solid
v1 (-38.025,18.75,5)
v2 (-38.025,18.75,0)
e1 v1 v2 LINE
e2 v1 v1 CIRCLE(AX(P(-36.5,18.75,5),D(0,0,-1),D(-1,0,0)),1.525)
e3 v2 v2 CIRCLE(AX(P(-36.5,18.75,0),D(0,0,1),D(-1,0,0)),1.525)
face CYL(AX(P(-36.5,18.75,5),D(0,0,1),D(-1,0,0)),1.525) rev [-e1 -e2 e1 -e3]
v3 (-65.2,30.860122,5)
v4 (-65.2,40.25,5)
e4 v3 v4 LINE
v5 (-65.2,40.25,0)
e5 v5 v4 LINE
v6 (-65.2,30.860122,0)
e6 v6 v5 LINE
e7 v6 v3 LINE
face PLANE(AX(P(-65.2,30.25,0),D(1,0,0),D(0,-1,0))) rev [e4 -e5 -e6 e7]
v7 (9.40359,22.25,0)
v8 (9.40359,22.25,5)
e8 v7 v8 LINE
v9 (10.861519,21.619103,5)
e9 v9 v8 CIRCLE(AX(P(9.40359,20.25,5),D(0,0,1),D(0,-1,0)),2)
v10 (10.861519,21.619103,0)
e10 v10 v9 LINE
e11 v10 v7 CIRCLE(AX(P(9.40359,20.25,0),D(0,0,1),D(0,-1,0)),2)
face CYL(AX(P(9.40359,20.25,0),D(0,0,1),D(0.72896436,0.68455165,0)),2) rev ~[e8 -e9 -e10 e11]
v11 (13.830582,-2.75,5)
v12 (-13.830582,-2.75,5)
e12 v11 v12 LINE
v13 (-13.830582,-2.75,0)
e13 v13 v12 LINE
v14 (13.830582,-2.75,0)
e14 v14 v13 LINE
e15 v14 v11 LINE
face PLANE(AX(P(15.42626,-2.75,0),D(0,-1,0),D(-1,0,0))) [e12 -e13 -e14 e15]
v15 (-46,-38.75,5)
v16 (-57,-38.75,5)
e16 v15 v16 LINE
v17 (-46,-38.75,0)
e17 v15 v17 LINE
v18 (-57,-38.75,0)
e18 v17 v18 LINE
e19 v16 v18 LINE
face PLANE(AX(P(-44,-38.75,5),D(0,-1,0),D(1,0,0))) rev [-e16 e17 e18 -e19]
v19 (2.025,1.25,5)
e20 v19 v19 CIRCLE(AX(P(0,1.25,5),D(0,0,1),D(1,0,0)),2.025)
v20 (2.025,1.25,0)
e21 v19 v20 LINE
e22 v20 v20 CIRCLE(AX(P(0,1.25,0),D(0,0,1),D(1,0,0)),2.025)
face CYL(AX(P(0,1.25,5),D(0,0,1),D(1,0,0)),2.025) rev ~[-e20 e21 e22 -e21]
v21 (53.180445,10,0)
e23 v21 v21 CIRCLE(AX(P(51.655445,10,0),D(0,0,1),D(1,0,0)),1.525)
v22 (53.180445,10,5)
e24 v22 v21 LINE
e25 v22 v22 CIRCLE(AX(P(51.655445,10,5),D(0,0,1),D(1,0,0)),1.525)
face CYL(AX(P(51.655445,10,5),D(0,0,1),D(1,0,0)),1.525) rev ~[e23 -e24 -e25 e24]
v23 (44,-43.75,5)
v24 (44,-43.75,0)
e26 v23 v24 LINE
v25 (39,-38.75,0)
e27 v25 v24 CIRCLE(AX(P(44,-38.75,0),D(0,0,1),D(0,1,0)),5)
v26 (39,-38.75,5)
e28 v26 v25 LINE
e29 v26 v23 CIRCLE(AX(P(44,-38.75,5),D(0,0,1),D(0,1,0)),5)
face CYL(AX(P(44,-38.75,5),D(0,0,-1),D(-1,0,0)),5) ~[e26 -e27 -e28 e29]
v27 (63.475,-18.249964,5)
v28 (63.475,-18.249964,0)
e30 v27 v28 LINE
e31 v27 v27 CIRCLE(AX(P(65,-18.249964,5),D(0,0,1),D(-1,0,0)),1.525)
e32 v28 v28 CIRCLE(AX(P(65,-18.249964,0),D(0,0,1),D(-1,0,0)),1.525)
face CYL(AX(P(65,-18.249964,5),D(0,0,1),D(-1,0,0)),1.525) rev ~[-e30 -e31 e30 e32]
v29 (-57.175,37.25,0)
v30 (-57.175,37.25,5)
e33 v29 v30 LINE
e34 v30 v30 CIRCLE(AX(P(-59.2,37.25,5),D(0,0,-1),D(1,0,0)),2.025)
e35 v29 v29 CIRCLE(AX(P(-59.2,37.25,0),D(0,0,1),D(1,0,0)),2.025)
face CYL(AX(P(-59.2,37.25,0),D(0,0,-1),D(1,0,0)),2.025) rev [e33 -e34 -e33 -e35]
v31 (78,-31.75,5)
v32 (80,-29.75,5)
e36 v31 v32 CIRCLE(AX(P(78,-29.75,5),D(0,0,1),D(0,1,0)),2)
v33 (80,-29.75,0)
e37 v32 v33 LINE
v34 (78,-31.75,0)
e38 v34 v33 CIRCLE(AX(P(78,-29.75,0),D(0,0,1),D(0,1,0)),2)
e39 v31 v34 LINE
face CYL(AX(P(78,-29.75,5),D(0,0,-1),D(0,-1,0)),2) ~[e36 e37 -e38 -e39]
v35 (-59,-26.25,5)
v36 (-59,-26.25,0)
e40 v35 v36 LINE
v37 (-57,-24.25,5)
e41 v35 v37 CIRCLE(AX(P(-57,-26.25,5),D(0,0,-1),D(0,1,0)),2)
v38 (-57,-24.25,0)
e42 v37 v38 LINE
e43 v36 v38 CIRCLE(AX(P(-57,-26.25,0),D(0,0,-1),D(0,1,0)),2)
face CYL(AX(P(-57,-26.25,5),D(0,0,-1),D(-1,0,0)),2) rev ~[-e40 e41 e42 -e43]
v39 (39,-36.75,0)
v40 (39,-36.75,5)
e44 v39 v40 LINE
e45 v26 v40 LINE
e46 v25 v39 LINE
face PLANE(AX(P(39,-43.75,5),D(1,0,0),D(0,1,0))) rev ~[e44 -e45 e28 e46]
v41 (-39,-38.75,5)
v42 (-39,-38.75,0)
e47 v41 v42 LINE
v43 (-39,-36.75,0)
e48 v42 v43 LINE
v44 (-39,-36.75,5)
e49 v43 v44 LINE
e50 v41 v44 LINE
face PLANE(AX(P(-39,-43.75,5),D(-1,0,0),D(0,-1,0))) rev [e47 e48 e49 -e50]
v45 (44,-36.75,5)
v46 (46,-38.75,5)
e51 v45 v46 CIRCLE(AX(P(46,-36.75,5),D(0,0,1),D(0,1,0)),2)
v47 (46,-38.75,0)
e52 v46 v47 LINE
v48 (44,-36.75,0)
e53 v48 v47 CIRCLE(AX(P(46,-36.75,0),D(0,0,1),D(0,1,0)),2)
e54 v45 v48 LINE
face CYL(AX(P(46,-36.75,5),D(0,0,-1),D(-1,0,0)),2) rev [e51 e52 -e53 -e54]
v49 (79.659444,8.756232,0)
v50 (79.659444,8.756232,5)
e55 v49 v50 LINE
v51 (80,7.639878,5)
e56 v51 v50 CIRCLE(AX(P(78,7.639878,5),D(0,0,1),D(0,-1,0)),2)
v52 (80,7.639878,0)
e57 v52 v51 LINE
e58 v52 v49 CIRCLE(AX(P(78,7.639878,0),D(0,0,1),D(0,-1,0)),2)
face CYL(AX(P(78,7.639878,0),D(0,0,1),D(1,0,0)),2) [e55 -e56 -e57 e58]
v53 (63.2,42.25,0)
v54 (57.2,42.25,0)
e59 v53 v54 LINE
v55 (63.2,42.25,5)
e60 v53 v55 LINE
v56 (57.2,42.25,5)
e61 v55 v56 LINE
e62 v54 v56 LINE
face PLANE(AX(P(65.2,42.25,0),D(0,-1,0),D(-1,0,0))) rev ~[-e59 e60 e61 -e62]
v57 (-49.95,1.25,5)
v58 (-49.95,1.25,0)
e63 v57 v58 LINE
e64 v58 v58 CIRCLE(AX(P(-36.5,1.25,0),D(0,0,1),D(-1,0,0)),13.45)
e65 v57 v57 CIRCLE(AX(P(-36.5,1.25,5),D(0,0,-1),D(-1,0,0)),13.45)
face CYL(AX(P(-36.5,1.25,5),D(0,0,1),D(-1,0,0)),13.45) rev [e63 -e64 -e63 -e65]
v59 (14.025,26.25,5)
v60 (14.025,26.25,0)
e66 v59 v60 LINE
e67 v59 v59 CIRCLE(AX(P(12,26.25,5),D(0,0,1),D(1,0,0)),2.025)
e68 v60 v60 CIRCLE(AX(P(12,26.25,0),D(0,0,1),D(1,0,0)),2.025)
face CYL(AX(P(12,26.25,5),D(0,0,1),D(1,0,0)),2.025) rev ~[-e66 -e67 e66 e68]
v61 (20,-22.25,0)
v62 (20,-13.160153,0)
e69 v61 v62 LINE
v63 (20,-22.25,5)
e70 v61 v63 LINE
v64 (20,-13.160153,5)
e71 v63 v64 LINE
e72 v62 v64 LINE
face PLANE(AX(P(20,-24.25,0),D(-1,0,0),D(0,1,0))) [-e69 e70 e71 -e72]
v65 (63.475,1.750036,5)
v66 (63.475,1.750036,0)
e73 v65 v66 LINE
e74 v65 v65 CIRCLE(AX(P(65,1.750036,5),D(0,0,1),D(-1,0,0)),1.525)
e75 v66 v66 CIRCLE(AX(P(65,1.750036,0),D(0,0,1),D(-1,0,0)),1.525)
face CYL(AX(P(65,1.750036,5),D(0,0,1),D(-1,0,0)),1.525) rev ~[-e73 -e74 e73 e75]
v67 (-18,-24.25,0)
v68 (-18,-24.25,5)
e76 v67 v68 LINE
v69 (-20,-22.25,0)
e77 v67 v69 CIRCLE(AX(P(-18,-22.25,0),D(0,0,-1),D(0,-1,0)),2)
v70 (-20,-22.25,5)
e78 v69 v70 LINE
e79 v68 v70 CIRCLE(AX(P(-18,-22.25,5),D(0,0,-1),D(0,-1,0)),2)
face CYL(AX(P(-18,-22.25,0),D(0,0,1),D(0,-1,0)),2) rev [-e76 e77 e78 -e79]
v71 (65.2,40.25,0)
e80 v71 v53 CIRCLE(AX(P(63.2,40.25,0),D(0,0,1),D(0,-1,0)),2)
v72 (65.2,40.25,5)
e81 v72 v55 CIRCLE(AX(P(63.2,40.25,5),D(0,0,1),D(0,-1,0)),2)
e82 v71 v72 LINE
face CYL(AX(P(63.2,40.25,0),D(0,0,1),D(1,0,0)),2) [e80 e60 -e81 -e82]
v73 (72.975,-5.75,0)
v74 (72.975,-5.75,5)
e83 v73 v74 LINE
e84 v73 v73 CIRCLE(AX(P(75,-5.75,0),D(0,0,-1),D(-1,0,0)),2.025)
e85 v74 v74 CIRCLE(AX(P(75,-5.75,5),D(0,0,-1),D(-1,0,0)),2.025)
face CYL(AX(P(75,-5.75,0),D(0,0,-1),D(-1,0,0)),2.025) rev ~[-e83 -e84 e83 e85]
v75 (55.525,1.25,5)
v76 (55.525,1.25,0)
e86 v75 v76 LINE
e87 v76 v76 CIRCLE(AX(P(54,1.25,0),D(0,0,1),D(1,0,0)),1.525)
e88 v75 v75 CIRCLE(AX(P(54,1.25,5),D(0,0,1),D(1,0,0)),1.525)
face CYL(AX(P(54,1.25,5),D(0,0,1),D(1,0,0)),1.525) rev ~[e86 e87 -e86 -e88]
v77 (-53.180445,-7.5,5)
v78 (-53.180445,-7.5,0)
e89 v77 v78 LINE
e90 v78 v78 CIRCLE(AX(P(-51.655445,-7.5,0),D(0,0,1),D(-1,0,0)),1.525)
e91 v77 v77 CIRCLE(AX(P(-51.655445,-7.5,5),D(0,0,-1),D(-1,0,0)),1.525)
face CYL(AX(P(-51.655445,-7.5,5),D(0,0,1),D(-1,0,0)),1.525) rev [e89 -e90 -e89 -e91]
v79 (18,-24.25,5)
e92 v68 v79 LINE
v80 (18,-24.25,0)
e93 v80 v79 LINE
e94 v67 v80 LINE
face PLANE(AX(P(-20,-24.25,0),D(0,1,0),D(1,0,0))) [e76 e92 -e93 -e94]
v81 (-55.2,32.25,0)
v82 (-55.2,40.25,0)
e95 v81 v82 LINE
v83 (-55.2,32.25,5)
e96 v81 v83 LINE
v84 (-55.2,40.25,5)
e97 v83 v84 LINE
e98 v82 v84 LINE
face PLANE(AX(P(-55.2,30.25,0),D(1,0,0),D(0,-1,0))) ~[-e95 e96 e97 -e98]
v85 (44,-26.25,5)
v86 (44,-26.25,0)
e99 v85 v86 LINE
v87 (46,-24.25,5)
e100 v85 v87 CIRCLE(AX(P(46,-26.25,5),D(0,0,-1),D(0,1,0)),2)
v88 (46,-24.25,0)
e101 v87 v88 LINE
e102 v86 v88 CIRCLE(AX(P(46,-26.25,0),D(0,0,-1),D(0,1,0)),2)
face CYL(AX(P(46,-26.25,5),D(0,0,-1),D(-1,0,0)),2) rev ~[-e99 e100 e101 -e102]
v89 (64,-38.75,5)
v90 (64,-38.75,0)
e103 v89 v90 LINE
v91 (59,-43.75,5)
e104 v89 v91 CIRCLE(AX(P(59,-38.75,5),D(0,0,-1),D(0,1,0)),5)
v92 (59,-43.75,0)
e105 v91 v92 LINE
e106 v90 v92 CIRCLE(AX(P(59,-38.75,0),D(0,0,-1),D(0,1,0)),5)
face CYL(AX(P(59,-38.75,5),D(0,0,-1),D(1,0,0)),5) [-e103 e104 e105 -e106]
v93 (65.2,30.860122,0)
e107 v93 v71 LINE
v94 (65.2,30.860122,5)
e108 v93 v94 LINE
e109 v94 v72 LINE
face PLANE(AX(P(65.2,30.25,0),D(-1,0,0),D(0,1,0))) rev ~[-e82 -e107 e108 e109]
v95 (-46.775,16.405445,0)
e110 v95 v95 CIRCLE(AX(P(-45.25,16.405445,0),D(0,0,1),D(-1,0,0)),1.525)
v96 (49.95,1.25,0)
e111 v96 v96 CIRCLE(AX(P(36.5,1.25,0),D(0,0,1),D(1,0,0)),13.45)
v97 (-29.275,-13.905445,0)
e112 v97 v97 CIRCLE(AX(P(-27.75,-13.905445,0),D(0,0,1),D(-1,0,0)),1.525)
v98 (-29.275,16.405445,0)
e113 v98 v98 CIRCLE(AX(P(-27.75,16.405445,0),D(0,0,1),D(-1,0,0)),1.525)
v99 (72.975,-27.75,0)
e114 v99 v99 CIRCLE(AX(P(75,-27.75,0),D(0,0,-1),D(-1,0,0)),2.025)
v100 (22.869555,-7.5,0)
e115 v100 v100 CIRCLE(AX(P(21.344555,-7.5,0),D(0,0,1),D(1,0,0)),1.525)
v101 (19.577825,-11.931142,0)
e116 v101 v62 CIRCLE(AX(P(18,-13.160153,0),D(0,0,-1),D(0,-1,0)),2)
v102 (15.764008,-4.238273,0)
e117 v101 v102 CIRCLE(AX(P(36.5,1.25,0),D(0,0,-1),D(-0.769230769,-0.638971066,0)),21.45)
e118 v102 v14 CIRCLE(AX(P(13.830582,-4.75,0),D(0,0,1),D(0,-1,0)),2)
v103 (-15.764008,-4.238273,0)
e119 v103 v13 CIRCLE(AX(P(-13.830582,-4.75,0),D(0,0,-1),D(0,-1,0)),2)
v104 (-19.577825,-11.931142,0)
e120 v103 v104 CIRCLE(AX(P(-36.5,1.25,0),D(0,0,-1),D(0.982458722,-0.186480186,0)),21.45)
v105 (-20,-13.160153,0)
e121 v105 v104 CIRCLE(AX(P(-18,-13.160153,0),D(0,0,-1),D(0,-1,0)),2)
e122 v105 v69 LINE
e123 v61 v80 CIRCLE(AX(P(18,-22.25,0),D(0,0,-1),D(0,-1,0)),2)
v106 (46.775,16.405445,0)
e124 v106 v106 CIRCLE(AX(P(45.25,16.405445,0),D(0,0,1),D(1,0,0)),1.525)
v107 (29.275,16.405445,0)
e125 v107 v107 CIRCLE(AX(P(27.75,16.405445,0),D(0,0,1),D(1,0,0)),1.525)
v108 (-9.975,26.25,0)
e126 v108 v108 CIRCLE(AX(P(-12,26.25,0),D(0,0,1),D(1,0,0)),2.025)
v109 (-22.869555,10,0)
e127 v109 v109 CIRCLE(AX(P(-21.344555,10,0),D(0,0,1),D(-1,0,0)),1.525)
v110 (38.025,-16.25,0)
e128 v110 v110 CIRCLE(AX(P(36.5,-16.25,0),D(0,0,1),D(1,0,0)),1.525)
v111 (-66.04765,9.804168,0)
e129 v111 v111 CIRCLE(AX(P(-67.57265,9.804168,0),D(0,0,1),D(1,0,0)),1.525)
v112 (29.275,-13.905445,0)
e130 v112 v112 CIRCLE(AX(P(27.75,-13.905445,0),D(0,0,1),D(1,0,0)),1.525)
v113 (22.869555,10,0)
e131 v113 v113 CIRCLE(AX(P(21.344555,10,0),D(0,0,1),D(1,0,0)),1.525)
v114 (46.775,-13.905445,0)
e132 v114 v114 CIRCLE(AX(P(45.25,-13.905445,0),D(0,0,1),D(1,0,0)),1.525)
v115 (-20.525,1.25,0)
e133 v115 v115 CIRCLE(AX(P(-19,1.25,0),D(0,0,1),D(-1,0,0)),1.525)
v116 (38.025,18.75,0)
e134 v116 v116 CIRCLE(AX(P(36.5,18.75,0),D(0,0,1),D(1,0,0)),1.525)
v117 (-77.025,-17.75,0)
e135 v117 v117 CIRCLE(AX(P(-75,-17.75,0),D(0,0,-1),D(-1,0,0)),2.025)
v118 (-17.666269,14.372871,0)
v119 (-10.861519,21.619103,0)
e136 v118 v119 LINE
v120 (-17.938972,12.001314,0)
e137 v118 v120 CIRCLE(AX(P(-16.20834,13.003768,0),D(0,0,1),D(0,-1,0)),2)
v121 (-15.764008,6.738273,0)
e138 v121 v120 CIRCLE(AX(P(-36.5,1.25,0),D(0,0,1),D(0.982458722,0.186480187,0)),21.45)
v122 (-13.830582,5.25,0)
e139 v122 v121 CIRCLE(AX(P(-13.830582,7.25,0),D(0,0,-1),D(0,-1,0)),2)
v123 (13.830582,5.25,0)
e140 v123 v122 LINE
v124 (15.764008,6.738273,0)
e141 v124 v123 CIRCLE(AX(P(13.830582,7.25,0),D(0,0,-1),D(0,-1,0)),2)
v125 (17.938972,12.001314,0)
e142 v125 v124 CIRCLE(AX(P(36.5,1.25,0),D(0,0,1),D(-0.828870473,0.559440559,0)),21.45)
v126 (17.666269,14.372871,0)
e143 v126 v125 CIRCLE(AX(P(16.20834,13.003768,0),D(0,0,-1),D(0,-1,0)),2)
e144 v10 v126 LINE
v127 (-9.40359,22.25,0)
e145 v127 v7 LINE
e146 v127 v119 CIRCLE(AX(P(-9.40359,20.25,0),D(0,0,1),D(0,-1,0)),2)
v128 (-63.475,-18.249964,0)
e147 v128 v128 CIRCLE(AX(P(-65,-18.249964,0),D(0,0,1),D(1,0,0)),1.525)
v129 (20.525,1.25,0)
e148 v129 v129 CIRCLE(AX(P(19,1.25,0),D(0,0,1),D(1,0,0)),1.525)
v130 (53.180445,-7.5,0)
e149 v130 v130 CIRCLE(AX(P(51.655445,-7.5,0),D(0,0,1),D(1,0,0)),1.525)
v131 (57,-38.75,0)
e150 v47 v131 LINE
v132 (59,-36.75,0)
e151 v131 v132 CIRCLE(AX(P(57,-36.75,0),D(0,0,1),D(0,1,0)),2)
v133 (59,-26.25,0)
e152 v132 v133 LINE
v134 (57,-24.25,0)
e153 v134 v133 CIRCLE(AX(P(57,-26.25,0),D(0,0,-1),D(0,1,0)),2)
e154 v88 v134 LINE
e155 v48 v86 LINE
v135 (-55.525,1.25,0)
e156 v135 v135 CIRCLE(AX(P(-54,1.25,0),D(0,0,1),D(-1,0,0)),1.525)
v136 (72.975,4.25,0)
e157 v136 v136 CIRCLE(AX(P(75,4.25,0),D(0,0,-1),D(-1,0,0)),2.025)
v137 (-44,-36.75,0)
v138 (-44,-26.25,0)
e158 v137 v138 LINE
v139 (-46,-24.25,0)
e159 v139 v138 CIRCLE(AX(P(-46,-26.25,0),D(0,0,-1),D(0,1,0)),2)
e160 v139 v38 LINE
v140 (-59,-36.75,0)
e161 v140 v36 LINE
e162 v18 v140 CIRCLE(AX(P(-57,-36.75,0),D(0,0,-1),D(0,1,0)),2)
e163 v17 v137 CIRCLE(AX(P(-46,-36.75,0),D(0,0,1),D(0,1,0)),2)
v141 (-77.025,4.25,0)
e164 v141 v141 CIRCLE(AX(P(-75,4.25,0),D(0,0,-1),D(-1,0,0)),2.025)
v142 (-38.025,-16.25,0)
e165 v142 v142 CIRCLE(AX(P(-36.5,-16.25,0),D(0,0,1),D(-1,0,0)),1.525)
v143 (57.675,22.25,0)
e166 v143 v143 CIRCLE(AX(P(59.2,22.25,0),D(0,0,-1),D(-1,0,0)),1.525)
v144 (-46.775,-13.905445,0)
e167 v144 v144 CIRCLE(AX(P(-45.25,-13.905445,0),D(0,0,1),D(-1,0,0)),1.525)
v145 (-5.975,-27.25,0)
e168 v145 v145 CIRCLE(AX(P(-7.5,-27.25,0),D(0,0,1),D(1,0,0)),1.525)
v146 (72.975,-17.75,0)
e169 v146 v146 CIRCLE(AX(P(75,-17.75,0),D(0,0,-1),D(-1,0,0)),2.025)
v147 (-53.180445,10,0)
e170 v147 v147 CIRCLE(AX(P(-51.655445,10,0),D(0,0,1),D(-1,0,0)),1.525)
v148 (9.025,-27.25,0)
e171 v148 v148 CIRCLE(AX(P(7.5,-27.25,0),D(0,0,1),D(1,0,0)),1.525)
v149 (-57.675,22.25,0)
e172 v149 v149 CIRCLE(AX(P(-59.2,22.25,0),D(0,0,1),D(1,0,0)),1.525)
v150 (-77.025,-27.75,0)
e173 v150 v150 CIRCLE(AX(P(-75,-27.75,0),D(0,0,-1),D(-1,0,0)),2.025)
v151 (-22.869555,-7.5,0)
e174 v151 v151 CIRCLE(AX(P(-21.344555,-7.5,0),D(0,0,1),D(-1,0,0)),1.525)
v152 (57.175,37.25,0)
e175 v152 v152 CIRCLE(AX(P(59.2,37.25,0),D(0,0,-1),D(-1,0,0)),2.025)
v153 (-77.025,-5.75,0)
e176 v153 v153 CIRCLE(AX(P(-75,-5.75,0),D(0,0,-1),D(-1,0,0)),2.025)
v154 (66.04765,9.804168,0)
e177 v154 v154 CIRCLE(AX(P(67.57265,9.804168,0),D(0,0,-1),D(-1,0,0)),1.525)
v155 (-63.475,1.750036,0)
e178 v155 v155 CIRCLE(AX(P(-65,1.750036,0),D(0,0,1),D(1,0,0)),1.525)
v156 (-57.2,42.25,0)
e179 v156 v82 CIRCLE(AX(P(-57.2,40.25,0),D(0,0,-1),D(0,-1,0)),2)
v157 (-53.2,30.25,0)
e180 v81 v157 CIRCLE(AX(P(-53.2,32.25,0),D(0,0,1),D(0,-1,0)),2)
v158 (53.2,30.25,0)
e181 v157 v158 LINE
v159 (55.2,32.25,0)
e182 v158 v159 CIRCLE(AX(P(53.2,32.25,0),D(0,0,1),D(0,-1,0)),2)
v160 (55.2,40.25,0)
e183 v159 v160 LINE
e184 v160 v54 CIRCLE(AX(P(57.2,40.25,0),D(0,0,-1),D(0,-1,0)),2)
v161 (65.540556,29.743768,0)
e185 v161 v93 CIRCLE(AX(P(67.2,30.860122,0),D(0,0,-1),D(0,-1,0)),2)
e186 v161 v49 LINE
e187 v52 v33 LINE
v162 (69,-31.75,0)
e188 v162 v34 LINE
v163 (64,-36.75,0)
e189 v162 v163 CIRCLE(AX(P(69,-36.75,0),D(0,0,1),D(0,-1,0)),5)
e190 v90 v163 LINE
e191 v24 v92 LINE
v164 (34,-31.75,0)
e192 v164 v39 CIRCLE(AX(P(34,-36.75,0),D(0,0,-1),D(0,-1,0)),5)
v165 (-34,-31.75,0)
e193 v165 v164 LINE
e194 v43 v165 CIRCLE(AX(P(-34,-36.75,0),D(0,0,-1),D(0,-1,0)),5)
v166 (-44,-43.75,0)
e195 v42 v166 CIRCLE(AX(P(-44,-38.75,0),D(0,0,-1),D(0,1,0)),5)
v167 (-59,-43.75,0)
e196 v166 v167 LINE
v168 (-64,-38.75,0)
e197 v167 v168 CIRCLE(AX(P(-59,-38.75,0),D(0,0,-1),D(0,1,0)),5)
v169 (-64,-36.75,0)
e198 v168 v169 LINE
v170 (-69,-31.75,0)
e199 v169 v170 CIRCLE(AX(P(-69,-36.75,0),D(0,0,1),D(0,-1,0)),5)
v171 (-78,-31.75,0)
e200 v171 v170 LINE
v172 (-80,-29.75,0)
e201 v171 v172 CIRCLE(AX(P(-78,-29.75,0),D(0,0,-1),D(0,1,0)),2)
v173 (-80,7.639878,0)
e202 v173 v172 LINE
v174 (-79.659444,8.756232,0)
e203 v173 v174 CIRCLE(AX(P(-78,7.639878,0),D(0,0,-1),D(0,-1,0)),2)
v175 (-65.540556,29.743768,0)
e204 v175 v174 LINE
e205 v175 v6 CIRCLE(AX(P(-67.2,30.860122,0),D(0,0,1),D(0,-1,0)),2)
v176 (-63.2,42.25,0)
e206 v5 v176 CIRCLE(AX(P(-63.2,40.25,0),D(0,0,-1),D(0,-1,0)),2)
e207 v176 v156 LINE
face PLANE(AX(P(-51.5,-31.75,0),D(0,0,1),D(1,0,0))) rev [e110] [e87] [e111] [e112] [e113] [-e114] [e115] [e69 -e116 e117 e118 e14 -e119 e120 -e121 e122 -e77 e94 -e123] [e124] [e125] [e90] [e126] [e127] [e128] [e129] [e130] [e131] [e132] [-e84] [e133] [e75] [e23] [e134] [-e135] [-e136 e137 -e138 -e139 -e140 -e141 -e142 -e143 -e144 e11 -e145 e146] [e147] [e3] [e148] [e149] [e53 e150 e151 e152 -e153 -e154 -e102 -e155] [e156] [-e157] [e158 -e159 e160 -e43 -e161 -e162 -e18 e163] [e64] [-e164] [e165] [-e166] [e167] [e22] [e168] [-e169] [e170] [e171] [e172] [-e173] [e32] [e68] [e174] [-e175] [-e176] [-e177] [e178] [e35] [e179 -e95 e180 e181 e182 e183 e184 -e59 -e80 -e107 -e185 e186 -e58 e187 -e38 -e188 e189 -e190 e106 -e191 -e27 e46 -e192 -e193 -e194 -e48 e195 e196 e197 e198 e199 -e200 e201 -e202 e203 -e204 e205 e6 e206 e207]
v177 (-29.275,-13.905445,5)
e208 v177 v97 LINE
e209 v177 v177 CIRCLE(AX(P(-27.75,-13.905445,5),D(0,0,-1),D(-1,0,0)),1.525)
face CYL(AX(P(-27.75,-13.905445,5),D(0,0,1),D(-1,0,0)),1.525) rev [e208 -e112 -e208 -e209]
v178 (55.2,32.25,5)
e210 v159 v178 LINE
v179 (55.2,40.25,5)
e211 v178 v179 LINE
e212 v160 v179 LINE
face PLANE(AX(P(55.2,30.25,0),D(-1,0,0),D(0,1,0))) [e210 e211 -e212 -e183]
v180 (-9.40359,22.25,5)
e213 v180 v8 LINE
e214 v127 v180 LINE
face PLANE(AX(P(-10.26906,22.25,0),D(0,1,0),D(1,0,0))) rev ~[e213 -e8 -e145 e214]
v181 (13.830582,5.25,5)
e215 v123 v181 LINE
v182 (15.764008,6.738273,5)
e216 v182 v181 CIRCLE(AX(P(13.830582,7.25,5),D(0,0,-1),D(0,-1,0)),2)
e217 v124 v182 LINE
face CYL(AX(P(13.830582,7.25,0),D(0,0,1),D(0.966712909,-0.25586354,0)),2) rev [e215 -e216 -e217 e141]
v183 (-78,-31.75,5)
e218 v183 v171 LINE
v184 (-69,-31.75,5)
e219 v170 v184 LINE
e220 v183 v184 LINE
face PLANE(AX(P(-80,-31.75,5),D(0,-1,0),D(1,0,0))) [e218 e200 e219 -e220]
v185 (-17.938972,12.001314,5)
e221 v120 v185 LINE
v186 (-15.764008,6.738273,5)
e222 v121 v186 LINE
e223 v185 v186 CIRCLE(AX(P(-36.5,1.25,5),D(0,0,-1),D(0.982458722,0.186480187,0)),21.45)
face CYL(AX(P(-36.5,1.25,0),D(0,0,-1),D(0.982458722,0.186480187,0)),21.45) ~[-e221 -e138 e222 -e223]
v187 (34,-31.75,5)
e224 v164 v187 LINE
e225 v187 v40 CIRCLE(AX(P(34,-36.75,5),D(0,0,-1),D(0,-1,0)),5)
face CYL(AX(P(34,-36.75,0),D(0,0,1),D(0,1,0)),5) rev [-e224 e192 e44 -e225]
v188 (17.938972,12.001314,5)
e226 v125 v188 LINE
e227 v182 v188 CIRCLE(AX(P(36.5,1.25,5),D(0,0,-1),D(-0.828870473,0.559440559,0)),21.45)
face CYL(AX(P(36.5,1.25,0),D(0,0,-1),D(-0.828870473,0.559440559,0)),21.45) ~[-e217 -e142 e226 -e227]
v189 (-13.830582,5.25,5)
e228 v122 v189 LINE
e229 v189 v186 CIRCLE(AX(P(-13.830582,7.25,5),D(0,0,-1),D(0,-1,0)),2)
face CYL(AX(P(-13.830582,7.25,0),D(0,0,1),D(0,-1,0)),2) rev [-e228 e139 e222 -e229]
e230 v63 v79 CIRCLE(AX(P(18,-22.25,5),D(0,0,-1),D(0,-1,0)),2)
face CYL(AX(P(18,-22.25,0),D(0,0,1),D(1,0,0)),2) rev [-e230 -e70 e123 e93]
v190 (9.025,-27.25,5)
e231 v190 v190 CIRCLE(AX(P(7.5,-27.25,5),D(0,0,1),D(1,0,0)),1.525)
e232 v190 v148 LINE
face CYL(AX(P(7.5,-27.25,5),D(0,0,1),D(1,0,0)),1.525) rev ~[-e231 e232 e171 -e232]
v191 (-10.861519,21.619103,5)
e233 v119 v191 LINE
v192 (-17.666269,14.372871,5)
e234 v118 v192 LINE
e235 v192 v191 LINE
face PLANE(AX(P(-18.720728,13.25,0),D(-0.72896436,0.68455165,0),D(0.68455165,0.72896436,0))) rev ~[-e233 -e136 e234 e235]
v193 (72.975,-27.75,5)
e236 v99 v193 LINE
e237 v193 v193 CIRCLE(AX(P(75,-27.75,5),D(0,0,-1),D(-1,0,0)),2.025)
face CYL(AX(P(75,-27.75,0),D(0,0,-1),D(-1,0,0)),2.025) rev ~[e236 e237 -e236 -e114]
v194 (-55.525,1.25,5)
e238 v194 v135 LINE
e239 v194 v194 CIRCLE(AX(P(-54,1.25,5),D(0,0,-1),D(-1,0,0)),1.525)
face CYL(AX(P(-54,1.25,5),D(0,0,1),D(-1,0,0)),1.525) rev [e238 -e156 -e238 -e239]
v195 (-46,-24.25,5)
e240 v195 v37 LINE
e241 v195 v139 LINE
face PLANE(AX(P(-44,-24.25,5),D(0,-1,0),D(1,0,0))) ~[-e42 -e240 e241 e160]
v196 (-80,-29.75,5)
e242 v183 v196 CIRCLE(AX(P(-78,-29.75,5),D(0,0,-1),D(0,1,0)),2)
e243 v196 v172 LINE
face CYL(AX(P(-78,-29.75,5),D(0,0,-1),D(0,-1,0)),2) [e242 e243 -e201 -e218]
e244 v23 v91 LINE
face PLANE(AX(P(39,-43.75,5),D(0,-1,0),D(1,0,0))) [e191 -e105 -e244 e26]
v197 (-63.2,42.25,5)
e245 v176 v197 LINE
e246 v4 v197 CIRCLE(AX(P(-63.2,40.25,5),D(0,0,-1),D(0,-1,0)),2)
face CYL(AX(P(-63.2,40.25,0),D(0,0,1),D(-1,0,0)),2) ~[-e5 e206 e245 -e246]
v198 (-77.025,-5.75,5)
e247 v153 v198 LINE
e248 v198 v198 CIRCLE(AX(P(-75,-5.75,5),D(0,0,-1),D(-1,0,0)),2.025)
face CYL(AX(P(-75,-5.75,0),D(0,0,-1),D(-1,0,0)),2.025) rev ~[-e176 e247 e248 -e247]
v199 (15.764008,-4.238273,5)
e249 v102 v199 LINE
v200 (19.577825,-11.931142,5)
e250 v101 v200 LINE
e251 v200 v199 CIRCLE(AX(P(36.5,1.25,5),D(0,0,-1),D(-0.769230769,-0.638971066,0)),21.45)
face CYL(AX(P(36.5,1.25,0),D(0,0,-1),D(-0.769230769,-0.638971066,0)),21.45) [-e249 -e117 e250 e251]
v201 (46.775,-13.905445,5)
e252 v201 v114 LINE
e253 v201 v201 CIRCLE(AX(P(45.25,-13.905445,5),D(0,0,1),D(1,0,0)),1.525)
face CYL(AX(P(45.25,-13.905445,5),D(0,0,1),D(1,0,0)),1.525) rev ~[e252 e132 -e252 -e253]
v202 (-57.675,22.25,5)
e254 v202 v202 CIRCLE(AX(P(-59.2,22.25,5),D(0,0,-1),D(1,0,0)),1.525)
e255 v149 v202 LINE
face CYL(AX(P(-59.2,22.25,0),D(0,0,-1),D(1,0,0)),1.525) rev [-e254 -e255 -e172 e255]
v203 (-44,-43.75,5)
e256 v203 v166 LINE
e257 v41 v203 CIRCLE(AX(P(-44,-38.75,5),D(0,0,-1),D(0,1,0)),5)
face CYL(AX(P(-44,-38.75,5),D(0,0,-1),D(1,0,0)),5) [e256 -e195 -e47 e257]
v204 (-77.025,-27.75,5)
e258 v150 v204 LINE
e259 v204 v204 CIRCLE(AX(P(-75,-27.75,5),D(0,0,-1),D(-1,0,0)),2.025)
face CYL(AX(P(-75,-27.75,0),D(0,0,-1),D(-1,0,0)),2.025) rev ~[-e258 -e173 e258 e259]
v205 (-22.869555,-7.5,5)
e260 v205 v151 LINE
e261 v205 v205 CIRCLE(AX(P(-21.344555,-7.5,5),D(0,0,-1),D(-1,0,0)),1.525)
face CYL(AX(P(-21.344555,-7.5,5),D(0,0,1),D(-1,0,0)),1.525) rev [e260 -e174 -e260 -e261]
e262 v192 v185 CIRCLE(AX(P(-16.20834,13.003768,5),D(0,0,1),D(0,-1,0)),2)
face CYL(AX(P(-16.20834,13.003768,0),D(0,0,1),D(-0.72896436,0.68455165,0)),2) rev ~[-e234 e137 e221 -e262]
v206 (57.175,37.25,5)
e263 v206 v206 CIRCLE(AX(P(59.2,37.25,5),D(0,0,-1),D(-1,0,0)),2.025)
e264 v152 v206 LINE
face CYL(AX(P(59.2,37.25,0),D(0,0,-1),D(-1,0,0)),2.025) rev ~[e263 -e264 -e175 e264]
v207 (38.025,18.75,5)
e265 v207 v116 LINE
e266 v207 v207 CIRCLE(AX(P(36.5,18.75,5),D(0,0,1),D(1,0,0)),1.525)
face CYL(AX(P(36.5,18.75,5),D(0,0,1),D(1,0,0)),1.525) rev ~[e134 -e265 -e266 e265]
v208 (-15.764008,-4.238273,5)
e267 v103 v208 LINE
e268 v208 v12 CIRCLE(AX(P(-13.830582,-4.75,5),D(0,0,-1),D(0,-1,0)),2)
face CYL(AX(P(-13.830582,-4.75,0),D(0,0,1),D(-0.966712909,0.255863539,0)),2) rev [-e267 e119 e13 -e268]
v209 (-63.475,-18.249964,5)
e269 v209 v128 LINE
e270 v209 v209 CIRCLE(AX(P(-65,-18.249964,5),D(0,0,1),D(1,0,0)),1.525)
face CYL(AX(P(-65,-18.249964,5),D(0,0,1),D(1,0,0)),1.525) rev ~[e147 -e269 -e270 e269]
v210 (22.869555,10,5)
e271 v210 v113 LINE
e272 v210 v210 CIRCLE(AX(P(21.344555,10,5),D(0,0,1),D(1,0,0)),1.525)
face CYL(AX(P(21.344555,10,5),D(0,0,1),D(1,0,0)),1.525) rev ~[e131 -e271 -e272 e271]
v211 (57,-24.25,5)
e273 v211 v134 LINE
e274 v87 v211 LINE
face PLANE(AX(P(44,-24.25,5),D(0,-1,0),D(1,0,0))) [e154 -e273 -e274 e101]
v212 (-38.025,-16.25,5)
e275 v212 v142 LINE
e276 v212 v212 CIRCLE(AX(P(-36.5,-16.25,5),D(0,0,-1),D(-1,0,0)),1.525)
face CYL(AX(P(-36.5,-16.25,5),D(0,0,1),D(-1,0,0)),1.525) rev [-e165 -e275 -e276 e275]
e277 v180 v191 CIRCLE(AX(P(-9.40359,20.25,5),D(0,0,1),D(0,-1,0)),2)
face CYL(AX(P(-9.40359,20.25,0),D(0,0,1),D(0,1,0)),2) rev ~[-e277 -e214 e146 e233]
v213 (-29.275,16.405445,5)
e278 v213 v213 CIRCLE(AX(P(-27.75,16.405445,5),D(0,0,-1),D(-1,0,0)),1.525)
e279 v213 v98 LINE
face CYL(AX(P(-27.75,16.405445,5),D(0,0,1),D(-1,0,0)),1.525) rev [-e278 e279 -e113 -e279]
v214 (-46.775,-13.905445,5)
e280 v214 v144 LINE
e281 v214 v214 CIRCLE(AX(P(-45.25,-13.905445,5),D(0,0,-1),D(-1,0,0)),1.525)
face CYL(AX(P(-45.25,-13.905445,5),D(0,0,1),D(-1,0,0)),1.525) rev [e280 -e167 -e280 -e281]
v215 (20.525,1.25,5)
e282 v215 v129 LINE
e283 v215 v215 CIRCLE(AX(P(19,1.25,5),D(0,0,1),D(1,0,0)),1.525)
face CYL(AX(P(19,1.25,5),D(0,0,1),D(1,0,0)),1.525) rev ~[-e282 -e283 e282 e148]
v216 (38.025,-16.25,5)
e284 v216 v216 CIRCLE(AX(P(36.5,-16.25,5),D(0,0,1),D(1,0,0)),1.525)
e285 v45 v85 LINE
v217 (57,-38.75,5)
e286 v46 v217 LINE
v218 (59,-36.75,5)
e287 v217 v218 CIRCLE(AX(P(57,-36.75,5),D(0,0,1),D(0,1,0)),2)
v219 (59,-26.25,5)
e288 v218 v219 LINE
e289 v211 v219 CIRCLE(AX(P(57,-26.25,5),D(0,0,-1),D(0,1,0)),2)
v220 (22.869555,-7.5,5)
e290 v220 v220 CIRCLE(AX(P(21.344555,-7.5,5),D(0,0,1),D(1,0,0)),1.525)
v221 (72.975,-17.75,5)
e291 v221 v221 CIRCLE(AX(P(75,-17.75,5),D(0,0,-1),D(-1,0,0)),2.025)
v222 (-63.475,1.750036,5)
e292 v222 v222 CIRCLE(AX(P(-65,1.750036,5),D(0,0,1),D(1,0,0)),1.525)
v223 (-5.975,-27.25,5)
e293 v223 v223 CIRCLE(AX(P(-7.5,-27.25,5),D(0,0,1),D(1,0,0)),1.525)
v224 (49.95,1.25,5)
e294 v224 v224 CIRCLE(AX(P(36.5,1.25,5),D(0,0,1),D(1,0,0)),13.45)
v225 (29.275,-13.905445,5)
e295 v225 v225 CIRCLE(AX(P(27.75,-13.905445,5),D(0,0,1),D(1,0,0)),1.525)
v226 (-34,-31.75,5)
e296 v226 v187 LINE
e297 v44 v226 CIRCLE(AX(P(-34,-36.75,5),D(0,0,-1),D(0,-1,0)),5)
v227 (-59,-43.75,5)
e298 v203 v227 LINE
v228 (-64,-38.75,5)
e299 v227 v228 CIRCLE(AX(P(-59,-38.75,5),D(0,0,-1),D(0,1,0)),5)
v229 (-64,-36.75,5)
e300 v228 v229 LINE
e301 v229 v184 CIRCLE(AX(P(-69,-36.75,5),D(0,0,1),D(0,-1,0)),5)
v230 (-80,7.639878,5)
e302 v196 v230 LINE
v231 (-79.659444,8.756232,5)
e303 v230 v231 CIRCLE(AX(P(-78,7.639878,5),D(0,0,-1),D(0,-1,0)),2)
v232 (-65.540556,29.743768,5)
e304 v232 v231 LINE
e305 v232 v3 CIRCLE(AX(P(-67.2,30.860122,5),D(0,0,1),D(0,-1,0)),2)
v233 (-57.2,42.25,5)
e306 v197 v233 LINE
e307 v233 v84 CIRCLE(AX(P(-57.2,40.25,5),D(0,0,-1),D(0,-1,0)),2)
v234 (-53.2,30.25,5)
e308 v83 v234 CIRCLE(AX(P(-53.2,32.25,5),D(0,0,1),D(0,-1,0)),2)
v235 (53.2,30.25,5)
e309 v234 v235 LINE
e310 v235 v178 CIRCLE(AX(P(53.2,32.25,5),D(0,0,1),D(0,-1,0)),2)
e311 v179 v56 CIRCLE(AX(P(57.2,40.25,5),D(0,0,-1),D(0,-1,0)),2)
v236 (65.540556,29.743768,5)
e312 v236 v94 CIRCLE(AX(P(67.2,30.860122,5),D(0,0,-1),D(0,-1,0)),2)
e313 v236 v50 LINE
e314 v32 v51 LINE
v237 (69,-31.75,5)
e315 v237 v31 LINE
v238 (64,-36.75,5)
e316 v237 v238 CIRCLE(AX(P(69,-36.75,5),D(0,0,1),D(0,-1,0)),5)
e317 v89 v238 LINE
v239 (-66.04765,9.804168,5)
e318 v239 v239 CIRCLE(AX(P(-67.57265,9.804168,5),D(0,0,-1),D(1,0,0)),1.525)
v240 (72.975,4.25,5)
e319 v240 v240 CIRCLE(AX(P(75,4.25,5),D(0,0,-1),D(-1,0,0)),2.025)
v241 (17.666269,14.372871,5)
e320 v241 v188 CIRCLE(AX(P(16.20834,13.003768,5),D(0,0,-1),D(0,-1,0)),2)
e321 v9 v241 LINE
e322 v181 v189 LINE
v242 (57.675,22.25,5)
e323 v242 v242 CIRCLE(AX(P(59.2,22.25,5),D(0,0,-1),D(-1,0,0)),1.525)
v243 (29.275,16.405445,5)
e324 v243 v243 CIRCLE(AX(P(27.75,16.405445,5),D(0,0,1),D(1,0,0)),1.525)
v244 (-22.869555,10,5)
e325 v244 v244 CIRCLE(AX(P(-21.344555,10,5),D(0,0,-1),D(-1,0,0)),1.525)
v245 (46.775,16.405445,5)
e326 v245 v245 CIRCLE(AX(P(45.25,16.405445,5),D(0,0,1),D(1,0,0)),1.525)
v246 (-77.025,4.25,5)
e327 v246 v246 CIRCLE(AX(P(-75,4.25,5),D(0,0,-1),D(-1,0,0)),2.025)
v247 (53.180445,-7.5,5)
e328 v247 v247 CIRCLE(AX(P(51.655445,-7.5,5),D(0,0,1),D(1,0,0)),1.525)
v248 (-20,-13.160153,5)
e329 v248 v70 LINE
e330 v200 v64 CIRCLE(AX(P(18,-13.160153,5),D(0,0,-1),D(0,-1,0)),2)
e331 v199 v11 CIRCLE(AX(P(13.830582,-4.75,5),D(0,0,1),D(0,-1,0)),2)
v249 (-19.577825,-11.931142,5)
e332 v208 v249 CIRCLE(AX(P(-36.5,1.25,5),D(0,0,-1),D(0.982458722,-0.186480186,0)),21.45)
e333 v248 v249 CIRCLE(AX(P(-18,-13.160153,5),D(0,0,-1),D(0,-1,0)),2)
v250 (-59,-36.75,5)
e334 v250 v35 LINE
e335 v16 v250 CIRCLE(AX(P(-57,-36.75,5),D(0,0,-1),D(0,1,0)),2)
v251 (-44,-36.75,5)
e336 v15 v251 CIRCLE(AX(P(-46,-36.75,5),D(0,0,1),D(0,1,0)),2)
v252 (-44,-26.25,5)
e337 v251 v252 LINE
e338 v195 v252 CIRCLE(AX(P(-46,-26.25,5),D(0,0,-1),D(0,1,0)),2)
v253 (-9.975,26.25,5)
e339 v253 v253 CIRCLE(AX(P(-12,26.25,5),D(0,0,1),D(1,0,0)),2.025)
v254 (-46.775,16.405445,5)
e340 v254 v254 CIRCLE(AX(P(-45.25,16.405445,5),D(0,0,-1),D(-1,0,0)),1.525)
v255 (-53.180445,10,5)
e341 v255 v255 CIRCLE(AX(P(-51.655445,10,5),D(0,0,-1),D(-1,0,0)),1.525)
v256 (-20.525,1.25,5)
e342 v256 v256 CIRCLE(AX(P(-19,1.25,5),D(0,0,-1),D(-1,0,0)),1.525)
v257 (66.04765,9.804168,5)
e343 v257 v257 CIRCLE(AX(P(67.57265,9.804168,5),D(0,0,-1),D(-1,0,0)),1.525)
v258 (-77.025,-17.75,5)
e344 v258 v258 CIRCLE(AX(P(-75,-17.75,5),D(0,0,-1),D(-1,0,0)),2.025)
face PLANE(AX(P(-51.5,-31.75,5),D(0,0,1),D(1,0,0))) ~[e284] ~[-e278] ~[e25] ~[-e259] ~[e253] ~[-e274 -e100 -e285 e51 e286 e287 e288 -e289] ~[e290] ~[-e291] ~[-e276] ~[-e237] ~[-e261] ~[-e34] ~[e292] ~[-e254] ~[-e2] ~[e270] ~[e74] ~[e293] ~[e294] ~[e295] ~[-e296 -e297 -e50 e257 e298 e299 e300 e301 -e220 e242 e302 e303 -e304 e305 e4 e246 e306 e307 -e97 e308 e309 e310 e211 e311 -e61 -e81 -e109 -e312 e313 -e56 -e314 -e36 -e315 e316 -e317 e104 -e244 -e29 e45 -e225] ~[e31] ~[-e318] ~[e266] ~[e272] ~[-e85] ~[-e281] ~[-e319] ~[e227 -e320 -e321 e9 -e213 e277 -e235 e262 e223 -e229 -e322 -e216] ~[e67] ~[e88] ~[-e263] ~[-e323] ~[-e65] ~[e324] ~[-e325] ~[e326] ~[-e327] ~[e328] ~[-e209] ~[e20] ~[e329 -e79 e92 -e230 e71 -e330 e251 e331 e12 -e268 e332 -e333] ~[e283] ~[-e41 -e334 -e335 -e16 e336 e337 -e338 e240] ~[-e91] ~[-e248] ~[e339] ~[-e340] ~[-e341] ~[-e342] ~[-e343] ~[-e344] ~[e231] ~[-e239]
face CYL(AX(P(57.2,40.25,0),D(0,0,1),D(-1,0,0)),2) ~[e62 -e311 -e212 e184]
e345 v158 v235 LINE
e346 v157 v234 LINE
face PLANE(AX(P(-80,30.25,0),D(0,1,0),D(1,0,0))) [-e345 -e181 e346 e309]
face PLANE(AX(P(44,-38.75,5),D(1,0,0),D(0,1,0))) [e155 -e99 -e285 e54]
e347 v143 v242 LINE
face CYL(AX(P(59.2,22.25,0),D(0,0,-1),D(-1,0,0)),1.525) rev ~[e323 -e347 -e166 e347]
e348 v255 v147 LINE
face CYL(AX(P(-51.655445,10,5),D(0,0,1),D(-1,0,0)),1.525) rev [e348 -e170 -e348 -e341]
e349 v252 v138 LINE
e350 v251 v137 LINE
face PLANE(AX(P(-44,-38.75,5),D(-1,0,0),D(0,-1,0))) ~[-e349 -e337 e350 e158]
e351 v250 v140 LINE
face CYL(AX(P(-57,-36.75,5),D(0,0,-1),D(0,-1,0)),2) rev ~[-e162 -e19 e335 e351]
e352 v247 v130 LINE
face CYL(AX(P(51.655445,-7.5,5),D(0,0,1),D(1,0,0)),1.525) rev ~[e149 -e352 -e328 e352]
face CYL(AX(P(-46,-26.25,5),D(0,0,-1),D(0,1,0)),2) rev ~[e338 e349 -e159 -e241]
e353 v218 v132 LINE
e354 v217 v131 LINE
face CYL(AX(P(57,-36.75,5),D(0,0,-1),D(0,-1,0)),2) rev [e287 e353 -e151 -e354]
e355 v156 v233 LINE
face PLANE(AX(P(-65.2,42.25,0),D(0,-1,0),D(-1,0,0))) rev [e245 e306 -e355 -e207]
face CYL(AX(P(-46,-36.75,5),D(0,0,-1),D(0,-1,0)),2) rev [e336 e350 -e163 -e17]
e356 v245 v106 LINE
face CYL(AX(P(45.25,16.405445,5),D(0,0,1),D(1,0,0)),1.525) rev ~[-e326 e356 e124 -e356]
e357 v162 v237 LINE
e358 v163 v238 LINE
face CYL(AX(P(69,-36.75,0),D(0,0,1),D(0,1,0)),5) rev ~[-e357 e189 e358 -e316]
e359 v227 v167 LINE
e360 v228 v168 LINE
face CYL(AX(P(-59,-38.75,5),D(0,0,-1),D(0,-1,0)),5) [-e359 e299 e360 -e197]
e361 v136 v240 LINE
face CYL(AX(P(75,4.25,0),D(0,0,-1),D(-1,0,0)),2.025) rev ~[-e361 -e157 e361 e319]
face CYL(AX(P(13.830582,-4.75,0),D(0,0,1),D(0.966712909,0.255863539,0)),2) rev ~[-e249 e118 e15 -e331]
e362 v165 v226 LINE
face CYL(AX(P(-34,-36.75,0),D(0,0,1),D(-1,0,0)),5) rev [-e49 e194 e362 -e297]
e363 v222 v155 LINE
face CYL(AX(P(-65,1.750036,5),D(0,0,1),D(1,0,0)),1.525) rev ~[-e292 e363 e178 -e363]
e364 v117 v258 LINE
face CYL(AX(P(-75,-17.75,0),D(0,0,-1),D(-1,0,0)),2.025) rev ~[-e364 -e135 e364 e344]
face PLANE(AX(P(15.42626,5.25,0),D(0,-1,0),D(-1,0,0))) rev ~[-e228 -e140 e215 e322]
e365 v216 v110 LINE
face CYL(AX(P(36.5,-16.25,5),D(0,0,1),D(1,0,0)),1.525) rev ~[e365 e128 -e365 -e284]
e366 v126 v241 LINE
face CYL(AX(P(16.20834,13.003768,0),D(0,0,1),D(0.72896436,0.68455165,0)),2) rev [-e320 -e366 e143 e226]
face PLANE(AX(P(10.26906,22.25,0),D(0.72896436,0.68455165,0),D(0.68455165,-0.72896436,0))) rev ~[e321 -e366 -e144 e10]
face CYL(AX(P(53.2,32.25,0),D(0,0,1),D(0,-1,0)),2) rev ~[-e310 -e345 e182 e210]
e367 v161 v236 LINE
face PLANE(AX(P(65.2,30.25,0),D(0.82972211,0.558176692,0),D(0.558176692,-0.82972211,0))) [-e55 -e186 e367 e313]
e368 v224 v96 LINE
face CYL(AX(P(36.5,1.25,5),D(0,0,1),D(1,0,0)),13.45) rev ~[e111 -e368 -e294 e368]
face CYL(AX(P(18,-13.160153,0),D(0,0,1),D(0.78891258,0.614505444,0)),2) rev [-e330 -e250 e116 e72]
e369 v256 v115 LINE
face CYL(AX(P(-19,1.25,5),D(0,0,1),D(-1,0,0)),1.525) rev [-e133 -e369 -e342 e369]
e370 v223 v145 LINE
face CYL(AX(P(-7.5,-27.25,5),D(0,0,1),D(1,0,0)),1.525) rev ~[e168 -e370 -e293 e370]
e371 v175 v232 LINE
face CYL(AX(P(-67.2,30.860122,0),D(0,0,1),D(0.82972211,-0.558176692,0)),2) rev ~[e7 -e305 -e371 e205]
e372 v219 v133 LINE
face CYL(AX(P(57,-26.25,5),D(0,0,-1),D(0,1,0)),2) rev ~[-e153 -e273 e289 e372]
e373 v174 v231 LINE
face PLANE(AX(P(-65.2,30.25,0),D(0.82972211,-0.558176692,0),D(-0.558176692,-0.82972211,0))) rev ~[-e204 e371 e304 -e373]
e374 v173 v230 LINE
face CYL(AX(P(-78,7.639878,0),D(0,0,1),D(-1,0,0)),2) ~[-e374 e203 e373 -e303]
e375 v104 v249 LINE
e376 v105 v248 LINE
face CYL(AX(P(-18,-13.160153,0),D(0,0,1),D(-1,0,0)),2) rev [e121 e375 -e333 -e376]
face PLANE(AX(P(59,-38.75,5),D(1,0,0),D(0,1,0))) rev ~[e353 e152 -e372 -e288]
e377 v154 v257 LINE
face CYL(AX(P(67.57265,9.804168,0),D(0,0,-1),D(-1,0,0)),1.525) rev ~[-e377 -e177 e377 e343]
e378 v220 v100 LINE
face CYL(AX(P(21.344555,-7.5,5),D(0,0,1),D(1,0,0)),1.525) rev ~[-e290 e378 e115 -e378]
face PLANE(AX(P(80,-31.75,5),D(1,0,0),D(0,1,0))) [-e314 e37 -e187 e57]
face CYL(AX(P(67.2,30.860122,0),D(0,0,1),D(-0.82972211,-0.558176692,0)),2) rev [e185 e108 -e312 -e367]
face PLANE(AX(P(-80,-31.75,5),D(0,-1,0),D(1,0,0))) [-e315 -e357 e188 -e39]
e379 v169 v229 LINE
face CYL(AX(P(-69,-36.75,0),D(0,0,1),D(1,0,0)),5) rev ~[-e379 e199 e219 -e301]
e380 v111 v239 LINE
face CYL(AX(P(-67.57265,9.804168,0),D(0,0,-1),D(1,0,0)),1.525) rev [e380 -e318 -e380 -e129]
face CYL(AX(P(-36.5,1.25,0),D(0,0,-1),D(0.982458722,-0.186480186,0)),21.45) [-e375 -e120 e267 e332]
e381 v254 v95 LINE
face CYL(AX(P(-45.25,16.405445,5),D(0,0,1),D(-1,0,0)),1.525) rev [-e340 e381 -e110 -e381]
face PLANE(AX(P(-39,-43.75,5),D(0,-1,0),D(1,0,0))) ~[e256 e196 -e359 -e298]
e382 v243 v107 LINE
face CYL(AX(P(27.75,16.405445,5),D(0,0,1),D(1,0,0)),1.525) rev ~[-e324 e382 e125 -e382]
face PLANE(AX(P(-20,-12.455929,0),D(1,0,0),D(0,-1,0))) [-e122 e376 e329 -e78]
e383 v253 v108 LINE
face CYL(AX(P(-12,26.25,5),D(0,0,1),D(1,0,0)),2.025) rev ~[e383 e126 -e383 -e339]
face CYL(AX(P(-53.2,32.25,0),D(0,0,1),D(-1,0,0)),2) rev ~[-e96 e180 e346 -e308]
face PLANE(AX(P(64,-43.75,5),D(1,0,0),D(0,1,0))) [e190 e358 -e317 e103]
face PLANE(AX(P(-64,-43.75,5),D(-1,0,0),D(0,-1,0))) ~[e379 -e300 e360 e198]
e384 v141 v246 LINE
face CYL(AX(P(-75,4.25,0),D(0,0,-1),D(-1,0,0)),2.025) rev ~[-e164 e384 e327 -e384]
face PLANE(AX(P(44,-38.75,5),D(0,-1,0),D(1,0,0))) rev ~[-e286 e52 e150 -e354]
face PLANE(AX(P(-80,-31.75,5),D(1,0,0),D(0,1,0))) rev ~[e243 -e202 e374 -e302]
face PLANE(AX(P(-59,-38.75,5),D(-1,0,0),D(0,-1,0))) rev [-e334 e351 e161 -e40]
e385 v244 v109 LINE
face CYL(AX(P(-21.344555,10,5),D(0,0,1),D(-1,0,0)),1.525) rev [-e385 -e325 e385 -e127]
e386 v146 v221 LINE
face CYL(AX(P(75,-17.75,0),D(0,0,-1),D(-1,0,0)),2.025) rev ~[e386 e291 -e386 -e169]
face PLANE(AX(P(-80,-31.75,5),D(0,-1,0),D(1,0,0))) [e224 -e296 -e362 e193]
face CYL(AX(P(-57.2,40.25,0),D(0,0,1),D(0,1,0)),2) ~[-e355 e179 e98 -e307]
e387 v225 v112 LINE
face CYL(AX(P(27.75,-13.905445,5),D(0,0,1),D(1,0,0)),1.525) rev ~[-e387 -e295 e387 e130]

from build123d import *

# Parameters (mm, degrees)
SKETCH_1_W           = 160
SKETCH_1_H           = 60.5
EXTRUDE_1_DEPTH      = 5
SKETCH_2_R           = 13.45
SKETCH_2_R_2         = 1.525
CUT_EXTRUDE_1_DEPTH  = 34
SKETCH_3_R           = 2.025
CUT_EXTRUDE_2_DEPTH  = 10
SKETCH_4_R           = 1.525
CUT_EXTRUDE_3_DEPTH  = 10
SKETCH_5_W           = 160
SKETCH_5_H           = 1.5
EXTRUDE_2_DEPTH      = 5
SKETCH_6_W           = 25
SKETCH_6_H           = 24
EXTRUDE_3_DEPTH      = 5
FILLET_1_R           = 5
SKETCH_7_W           = 15
SKETCH_7_H           = 14.5
CUT_EXTRUDE_4_DEPTH  = 5
FILLET_2_R           = 2
SKETCH_8_W           = 10
SKETCH_8_H           = 12
EXTRUDE_4_DEPTH      = 5
CUT_EXTRUDE_5_DEPTH  = 5
SKETCH_12_R          = 2.025
CUT_EXTRUDE_6_DEPTH  = 10
CUT_EXTRUDE_7_DEPTH  = 10
CUT_EXTRUDE_8_DEPTH  = 10
FILLET_3_R           = 2
FILLET_4_R           = 2
SKETCH_15_R          = 1.525
CUT_EXTRUDE_9_DEPTH  = 10
SKETCH_16_R          = 2.025
CUT_EXTRUDE_10_DEPTH = 10
SKETCH_17_R          = 1.525
CUT_EXTRUDE_11_DEPTH = 10
SKETCH_19_R          = 2.025
CUT_EXTRUDE_12_DEPTH = 10


with BuildPart() as part:
    # 草图1 → 凸台-拉伸1 (new body)
    with BuildSketch(Plane.XY):
        Rectangle(SKETCH_1_W, SKETCH_1_H)
    extrude(amount=EXTRUDE_1_DEPTH)

    # 草图2 → 切除-拉伸1 (cut)
    with BuildSketch(Plane.XY.offset(5)):
        with Locations((36.5, 1.25)):
            Circle(SKETCH_2_R)
        with Locations((36.5, 18.75)):
            Circle(SKETCH_2_R_2)
        with Locations((45.25, 16.405444566)):
            Circle(SKETCH_2_R_2)
        with Locations((51.655444566, 10)):
            Circle(SKETCH_2_R_2)
        with Locations((54, 1.25)):
            Circle(SKETCH_2_R_2)
        with Locations((51.655444566, -7.5)):
            Circle(SKETCH_2_R_2)
        with Locations((45.25, -13.905444566)):
            Circle(SKETCH_2_R_2)
        with Locations((36.5, -16.25)):
            Circle(SKETCH_2_R_2)
        with Locations((27.75, -13.905444566)):
            Circle(SKETCH_2_R_2)
        with Locations((21.344555434, -7.5)):
            Circle(SKETCH_2_R_2)
        with Locations((19, 1.25)):
            Circle(SKETCH_2_R_2)
        with Locations((21.344555434, 10)):
            Circle(SKETCH_2_R_2)
        with Locations((27.75, 16.405444566)):
            Circle(SKETCH_2_R_2)
    cut_extrude_1 = extrude(amount=-CUT_EXTRUDE_1_DEPTH, mode=Mode.SUBTRACT)

    # 镜向1: 切除-拉伸1 across plane
    add(cut_extrude_1.mirror(Plane(origin=(0, 0, 0), x_dir=(0, 0, 1), z_dir=(1, 0, 0))), mode=Mode.SUBTRACT)

    # 草图3 → 切除-拉伸2 (cut)
    with BuildSketch(Plane.XY.offset(5)):
        with Locations((-12, 26.25)):
            Circle(SKETCH_3_R)
        with Locations((0, 1.25)):
            Circle(SKETCH_3_R)
        with Locations((12, 26.25)):
            Circle(SKETCH_3_R)
    extrude(amount=-CUT_EXTRUDE_2_DEPTH, mode=Mode.SUBTRACT)

    # 草图4 → 切除-拉伸3 (cut)
    with BuildSketch(Plane.XY.offset(5)):
        with Locations((7.5, -27.25)):
            Circle(SKETCH_4_R)
        with Locations((-7.5, -27.25)):
            Circle(SKETCH_4_R)
    extrude(amount=-CUT_EXTRUDE_3_DEPTH, mode=Mode.SUBTRACT)

    # 草图5 → 凸台-拉伸2 (add)
    with BuildSketch(Plane.XY.offset(5)):
        with Locations((0, -31)):
            Rectangle(SKETCH_5_W, SKETCH_5_H)
    extrude(amount=-EXTRUDE_2_DEPTH)

    # 草图6 → 凸台-拉伸3 (add)
    with BuildSketch(Plane.XY.offset(5)):
        with Locations((51.5, -31.75)):
            Rectangle(SKETCH_6_W, SKETCH_6_H)
    extrude_3 = extrude(amount=-EXTRUDE_3_DEPTH)

    # 镜向2: 凸台-拉伸3 across plane
    add(extrude_3.mirror(Plane(origin=(0, 0, 0), x_dir=(0, 0, 1), z_dir=(1, 0, 0))))

    # 圆角1
    fillet_1_edges = [part.edges().sort_by_distance(p)[0] for p in [
        (64, -31.75, 2.5),
        (39, -31.75, 2.5),
        (39, -43.75, 2.5),
        (64, -43.75, 2.5),
        (-64, -31.75, 2.5),
        (-39, -31.75, 2.5),
        (-64, -43.75, 2.5),
        (-39, -43.75, 2.5),
    ]]
    fillet(fillet_1_edges, radius=FILLET_1_R)

    # 草图7 → 切除-拉伸4 (cut)
    with BuildSketch(Plane.XY.offset(5)):
        with Locations((51.5, -31.5)):
            Rectangle(SKETCH_7_W, SKETCH_7_H)
    cut_extrude_4 = extrude(amount=-CUT_EXTRUDE_4_DEPTH, mode=Mode.SUBTRACT)

    # 镜向3: 切除-拉伸4 across plane
    add(cut_extrude_4.mirror(Plane(origin=(0, 0, 0), x_dir=(0, 0, 1), z_dir=(1, 0, 0))), mode=Mode.SUBTRACT)

    # 圆角2
    fillet_2_edges = [part.edges().sort_by_distance(p)[0] for p in [
        (44, -24.25, 2.5),
        (44, -38.75, 2.5),
        (59, -38.75, 2.5),
        (59, -24.25, 2.5),
        (-59, -38.75, 2.5),
        (-59, -24.25, 2.5),
        (-44, -24.25, 2.5),
        (-44, -38.75, 2.5),
    ]]
    fillet(fillet_2_edges, radius=FILLET_2_R)

    # 草图8 → 凸台-拉伸4 (add)
    with BuildSketch(Plane(origin=(0, 0, 0), x_dir=(-1, 0, 0), z_dir=(0, 0, -1))):
        with Locations((-60.2, 36.25)):
            Rectangle(SKETCH_8_W, SKETCH_8_H)
    extrude_4 = extrude(amount=-EXTRUDE_4_DEPTH)

    # 镜向4: 凸台-拉伸4 across plane
    add(extrude_4.mirror(Plane(origin=(0, 0, 0), x_dir=(0, 0, 1), z_dir=(1, 0, 0))))

    # 草图11 → 切除-拉伸5 (cut)
    with BuildSketch(Plane(origin=(0, 0, 0), x_dir=(-1, 0, 0), z_dir=(0, 0, -1))):
        Polygon((-65.2, 30.25), (-80, 8.25), (-80, 30.25), align=None)
        Polygon((80, 30.25), (65.2, 30.25), (80, 8.25), align=None)
    extrude(amount=-CUT_EXTRUDE_5_DEPTH, mode=Mode.SUBTRACT)

    # 草图12 → 切除-拉伸6 (cut)
    with BuildSketch(Plane(origin=(0, 0, 0), x_dir=(-1, 0, 0), z_dir=(0, 0, -1))):
        with Locations((75, 4.25)):
            Circle(SKETCH_12_R)
        with Locations((75, -27.75)):
            Circle(SKETCH_12_R)
        with Locations((-75, -27.75)):
            Circle(SKETCH_12_R)
        with Locations((-75, 4.25)):
            Circle(SKETCH_12_R)
    extrude(amount=-CUT_EXTRUDE_6_DEPTH, mode=Mode.SUBTRACT)

    # 草图13 → 切除-拉伸7 (cut)
    with BuildSketch(Plane(origin=(0, 0, 0), x_dir=(-1, 0, 0), z_dir=(0, 0, -1))):
        with BuildLine():
            Line((-10.269060233, 22.25), (-18.720728361, 13.25))
            ThreePointArc((-18.720728361, 13.25), (-16.665960567, 9.417825889), (-15.426260417, 5.25))
            Line((-15.426260417, 5.25), (15.426260417, 5.25))
            ThreePointArc((15.426260417, 5.25), (16.665960567, 9.417825889), (18.720728361, 13.25))
            Line((18.720728361, 13.25), (10.269060233, 22.25))
            Line((10.269060233, 22.25), (-10.269060233, 22.25))
        make_face()
    extrude(amount=-CUT_EXTRUDE_7_DEPTH, mode=Mode.SUBTRACT)

    # 草图14 → 切除-拉伸8 (cut)
    with BuildSketch(Plane(origin=(0, 0, 0), x_dir=(-1, 0, 0), z_dir=(0, 0, -1))):
        with BuildLine():
            Line((-15.426260417, -2.75), (15.426260417, -2.75))
            ThreePointArc((15.426260417, -2.75), (17.096450252, -7.893563703), (20, -12.455929374))
            Line((20, -12.455929374), (20, -24.25))
            Line((20, -24.25), (-20, -24.25))
            Line((-20, -24.25), (-20, -12.455929374))
            ThreePointArc((-20, -12.455929374), (-17.096450252, -7.893563703), (-15.426260417, -2.75))
        make_face()
    extrude(amount=-CUT_EXTRUDE_8_DEPTH, mode=Mode.SUBTRACT)

    # 圆角3
    fillet_3_edges = [part.edges().sort_by_distance(p)[0] for p in [
        (10.269060233, 22.25, 2.5),
        (-10.269060233, 22.25, 2.5),
        (-18.720728361, 13.25, 2.5),
        (-15.426260417, 5.25, 2.5),
        (15.426260417, 5.25, 2.5),
        (18.720728361, 13.25, 2.5),
        (20, -12.455929374, 2.5),
        (15.426260417, -2.75, 2.5),
        (-15.426260417, -2.75, 2.5),
        (-20, -12.455929374, 2.5),
        (-20, -24.25, 2.5),
        (20, -24.25, 2.5),
    ]]
    fillet(fillet_3_edges, radius=FILLET_3_R)

    # 圆角4
    fillet_4_edges = [part.edges().sort_by_distance(p)[0] for p in [
        (80, -31.75, 2.5),
        (-80, -31.75, 2.5),
        (65.2, 42.25, 2.5),
        (55.2, 42.25, 2.5),
        (55.2, 30.25, 2.5),
        (65.2, 30.25, 2.5),
        (-55.2, 30.25, 2.5),
        (-65.2, 30.25, 2.5),
        (-65.2, 42.25, 2.5),
        (-55.2, 42.25, 2.5),
        (80, 8.25, 2.5),
        (-80, 8.25, 2.5),
    ]]
    fillet(fillet_4_edges, radius=FILLET_4_R)

    # 草图15 → 切除-拉伸9 (cut)
    with BuildSketch(Plane.XY.offset(5)):
        with Locations((-65, 1.750036)):
            Circle(SKETCH_15_R)
        with Locations((-65, -18.249964)):
            Circle(SKETCH_15_R)
        with Locations(Location((65, -18.249964, 0), (0, 0, 180))):
            Circle(SKETCH_15_R)
        with Locations(Location((65, 1.750036, 0), (0, 0, 180))):
            Circle(SKETCH_15_R)
    extrude(amount=-CUT_EXTRUDE_9_DEPTH, mode=Mode.SUBTRACT)

    # 草图16 → 切除-拉伸10 (cut)
    with BuildSketch(Plane(origin=(0, 0, 0), x_dir=(-1, 0, 0), z_dir=(0, 0, -1))):
        with Locations((-59.2, 37.25)):
            Circle(SKETCH_16_R)
    cut_extrude_10 = extrude(amount=-CUT_EXTRUDE_10_DEPTH, mode=Mode.SUBTRACT)

    # 镜向5: 切除-拉伸10 across plane
    add(cut_extrude_10.mirror(Plane(origin=(0, 0, 0), x_dir=(0, 0, 1), z_dir=(1, 0, 0))), mode=Mode.SUBTRACT)

    # 草图17 → 切除-拉伸11 (cut)
    with BuildSketch(Plane(origin=(0, 0, 0), x_dir=(-1, 0, 0), z_dir=(0, 0, -1))):
        with Locations((-59.2, 22.25)):
            Circle(SKETCH_17_R)
        with Locations((-67.572650385, 9.804168347)):
            Circle(SKETCH_17_R)
    cut_extrude_11 = extrude(amount=-CUT_EXTRUDE_11_DEPTH, mode=Mode.SUBTRACT)

    # 镜向6: 切除-拉伸11 across plane
    add(cut_extrude_11.mirror(Plane(origin=(0, 0, 0), x_dir=(0, 0, 1), z_dir=(1, 0, 0))), mode=Mode.SUBTRACT)

    # 草图19 → 切除-拉伸12 (cut)
    with BuildSketch(Plane(origin=(0, 0, 0), x_dir=(-1, 0, 0), z_dir=(0, 0, -1))):
        with Locations((-75, -5.75)):
            Circle(SKETCH_19_R)
        with Locations((-75, -17.75)):
            Circle(SKETCH_19_R)
        with Locations((75, -17.75)):
            Circle(SKETCH_19_R)
        with Locations((75, -5.75)):
            Circle(SKETCH_19_R)
    extrude(amount=-CUT_EXTRUDE_12_DEPTH, mode=Mode.SUBTRACT)


solid = part.part
